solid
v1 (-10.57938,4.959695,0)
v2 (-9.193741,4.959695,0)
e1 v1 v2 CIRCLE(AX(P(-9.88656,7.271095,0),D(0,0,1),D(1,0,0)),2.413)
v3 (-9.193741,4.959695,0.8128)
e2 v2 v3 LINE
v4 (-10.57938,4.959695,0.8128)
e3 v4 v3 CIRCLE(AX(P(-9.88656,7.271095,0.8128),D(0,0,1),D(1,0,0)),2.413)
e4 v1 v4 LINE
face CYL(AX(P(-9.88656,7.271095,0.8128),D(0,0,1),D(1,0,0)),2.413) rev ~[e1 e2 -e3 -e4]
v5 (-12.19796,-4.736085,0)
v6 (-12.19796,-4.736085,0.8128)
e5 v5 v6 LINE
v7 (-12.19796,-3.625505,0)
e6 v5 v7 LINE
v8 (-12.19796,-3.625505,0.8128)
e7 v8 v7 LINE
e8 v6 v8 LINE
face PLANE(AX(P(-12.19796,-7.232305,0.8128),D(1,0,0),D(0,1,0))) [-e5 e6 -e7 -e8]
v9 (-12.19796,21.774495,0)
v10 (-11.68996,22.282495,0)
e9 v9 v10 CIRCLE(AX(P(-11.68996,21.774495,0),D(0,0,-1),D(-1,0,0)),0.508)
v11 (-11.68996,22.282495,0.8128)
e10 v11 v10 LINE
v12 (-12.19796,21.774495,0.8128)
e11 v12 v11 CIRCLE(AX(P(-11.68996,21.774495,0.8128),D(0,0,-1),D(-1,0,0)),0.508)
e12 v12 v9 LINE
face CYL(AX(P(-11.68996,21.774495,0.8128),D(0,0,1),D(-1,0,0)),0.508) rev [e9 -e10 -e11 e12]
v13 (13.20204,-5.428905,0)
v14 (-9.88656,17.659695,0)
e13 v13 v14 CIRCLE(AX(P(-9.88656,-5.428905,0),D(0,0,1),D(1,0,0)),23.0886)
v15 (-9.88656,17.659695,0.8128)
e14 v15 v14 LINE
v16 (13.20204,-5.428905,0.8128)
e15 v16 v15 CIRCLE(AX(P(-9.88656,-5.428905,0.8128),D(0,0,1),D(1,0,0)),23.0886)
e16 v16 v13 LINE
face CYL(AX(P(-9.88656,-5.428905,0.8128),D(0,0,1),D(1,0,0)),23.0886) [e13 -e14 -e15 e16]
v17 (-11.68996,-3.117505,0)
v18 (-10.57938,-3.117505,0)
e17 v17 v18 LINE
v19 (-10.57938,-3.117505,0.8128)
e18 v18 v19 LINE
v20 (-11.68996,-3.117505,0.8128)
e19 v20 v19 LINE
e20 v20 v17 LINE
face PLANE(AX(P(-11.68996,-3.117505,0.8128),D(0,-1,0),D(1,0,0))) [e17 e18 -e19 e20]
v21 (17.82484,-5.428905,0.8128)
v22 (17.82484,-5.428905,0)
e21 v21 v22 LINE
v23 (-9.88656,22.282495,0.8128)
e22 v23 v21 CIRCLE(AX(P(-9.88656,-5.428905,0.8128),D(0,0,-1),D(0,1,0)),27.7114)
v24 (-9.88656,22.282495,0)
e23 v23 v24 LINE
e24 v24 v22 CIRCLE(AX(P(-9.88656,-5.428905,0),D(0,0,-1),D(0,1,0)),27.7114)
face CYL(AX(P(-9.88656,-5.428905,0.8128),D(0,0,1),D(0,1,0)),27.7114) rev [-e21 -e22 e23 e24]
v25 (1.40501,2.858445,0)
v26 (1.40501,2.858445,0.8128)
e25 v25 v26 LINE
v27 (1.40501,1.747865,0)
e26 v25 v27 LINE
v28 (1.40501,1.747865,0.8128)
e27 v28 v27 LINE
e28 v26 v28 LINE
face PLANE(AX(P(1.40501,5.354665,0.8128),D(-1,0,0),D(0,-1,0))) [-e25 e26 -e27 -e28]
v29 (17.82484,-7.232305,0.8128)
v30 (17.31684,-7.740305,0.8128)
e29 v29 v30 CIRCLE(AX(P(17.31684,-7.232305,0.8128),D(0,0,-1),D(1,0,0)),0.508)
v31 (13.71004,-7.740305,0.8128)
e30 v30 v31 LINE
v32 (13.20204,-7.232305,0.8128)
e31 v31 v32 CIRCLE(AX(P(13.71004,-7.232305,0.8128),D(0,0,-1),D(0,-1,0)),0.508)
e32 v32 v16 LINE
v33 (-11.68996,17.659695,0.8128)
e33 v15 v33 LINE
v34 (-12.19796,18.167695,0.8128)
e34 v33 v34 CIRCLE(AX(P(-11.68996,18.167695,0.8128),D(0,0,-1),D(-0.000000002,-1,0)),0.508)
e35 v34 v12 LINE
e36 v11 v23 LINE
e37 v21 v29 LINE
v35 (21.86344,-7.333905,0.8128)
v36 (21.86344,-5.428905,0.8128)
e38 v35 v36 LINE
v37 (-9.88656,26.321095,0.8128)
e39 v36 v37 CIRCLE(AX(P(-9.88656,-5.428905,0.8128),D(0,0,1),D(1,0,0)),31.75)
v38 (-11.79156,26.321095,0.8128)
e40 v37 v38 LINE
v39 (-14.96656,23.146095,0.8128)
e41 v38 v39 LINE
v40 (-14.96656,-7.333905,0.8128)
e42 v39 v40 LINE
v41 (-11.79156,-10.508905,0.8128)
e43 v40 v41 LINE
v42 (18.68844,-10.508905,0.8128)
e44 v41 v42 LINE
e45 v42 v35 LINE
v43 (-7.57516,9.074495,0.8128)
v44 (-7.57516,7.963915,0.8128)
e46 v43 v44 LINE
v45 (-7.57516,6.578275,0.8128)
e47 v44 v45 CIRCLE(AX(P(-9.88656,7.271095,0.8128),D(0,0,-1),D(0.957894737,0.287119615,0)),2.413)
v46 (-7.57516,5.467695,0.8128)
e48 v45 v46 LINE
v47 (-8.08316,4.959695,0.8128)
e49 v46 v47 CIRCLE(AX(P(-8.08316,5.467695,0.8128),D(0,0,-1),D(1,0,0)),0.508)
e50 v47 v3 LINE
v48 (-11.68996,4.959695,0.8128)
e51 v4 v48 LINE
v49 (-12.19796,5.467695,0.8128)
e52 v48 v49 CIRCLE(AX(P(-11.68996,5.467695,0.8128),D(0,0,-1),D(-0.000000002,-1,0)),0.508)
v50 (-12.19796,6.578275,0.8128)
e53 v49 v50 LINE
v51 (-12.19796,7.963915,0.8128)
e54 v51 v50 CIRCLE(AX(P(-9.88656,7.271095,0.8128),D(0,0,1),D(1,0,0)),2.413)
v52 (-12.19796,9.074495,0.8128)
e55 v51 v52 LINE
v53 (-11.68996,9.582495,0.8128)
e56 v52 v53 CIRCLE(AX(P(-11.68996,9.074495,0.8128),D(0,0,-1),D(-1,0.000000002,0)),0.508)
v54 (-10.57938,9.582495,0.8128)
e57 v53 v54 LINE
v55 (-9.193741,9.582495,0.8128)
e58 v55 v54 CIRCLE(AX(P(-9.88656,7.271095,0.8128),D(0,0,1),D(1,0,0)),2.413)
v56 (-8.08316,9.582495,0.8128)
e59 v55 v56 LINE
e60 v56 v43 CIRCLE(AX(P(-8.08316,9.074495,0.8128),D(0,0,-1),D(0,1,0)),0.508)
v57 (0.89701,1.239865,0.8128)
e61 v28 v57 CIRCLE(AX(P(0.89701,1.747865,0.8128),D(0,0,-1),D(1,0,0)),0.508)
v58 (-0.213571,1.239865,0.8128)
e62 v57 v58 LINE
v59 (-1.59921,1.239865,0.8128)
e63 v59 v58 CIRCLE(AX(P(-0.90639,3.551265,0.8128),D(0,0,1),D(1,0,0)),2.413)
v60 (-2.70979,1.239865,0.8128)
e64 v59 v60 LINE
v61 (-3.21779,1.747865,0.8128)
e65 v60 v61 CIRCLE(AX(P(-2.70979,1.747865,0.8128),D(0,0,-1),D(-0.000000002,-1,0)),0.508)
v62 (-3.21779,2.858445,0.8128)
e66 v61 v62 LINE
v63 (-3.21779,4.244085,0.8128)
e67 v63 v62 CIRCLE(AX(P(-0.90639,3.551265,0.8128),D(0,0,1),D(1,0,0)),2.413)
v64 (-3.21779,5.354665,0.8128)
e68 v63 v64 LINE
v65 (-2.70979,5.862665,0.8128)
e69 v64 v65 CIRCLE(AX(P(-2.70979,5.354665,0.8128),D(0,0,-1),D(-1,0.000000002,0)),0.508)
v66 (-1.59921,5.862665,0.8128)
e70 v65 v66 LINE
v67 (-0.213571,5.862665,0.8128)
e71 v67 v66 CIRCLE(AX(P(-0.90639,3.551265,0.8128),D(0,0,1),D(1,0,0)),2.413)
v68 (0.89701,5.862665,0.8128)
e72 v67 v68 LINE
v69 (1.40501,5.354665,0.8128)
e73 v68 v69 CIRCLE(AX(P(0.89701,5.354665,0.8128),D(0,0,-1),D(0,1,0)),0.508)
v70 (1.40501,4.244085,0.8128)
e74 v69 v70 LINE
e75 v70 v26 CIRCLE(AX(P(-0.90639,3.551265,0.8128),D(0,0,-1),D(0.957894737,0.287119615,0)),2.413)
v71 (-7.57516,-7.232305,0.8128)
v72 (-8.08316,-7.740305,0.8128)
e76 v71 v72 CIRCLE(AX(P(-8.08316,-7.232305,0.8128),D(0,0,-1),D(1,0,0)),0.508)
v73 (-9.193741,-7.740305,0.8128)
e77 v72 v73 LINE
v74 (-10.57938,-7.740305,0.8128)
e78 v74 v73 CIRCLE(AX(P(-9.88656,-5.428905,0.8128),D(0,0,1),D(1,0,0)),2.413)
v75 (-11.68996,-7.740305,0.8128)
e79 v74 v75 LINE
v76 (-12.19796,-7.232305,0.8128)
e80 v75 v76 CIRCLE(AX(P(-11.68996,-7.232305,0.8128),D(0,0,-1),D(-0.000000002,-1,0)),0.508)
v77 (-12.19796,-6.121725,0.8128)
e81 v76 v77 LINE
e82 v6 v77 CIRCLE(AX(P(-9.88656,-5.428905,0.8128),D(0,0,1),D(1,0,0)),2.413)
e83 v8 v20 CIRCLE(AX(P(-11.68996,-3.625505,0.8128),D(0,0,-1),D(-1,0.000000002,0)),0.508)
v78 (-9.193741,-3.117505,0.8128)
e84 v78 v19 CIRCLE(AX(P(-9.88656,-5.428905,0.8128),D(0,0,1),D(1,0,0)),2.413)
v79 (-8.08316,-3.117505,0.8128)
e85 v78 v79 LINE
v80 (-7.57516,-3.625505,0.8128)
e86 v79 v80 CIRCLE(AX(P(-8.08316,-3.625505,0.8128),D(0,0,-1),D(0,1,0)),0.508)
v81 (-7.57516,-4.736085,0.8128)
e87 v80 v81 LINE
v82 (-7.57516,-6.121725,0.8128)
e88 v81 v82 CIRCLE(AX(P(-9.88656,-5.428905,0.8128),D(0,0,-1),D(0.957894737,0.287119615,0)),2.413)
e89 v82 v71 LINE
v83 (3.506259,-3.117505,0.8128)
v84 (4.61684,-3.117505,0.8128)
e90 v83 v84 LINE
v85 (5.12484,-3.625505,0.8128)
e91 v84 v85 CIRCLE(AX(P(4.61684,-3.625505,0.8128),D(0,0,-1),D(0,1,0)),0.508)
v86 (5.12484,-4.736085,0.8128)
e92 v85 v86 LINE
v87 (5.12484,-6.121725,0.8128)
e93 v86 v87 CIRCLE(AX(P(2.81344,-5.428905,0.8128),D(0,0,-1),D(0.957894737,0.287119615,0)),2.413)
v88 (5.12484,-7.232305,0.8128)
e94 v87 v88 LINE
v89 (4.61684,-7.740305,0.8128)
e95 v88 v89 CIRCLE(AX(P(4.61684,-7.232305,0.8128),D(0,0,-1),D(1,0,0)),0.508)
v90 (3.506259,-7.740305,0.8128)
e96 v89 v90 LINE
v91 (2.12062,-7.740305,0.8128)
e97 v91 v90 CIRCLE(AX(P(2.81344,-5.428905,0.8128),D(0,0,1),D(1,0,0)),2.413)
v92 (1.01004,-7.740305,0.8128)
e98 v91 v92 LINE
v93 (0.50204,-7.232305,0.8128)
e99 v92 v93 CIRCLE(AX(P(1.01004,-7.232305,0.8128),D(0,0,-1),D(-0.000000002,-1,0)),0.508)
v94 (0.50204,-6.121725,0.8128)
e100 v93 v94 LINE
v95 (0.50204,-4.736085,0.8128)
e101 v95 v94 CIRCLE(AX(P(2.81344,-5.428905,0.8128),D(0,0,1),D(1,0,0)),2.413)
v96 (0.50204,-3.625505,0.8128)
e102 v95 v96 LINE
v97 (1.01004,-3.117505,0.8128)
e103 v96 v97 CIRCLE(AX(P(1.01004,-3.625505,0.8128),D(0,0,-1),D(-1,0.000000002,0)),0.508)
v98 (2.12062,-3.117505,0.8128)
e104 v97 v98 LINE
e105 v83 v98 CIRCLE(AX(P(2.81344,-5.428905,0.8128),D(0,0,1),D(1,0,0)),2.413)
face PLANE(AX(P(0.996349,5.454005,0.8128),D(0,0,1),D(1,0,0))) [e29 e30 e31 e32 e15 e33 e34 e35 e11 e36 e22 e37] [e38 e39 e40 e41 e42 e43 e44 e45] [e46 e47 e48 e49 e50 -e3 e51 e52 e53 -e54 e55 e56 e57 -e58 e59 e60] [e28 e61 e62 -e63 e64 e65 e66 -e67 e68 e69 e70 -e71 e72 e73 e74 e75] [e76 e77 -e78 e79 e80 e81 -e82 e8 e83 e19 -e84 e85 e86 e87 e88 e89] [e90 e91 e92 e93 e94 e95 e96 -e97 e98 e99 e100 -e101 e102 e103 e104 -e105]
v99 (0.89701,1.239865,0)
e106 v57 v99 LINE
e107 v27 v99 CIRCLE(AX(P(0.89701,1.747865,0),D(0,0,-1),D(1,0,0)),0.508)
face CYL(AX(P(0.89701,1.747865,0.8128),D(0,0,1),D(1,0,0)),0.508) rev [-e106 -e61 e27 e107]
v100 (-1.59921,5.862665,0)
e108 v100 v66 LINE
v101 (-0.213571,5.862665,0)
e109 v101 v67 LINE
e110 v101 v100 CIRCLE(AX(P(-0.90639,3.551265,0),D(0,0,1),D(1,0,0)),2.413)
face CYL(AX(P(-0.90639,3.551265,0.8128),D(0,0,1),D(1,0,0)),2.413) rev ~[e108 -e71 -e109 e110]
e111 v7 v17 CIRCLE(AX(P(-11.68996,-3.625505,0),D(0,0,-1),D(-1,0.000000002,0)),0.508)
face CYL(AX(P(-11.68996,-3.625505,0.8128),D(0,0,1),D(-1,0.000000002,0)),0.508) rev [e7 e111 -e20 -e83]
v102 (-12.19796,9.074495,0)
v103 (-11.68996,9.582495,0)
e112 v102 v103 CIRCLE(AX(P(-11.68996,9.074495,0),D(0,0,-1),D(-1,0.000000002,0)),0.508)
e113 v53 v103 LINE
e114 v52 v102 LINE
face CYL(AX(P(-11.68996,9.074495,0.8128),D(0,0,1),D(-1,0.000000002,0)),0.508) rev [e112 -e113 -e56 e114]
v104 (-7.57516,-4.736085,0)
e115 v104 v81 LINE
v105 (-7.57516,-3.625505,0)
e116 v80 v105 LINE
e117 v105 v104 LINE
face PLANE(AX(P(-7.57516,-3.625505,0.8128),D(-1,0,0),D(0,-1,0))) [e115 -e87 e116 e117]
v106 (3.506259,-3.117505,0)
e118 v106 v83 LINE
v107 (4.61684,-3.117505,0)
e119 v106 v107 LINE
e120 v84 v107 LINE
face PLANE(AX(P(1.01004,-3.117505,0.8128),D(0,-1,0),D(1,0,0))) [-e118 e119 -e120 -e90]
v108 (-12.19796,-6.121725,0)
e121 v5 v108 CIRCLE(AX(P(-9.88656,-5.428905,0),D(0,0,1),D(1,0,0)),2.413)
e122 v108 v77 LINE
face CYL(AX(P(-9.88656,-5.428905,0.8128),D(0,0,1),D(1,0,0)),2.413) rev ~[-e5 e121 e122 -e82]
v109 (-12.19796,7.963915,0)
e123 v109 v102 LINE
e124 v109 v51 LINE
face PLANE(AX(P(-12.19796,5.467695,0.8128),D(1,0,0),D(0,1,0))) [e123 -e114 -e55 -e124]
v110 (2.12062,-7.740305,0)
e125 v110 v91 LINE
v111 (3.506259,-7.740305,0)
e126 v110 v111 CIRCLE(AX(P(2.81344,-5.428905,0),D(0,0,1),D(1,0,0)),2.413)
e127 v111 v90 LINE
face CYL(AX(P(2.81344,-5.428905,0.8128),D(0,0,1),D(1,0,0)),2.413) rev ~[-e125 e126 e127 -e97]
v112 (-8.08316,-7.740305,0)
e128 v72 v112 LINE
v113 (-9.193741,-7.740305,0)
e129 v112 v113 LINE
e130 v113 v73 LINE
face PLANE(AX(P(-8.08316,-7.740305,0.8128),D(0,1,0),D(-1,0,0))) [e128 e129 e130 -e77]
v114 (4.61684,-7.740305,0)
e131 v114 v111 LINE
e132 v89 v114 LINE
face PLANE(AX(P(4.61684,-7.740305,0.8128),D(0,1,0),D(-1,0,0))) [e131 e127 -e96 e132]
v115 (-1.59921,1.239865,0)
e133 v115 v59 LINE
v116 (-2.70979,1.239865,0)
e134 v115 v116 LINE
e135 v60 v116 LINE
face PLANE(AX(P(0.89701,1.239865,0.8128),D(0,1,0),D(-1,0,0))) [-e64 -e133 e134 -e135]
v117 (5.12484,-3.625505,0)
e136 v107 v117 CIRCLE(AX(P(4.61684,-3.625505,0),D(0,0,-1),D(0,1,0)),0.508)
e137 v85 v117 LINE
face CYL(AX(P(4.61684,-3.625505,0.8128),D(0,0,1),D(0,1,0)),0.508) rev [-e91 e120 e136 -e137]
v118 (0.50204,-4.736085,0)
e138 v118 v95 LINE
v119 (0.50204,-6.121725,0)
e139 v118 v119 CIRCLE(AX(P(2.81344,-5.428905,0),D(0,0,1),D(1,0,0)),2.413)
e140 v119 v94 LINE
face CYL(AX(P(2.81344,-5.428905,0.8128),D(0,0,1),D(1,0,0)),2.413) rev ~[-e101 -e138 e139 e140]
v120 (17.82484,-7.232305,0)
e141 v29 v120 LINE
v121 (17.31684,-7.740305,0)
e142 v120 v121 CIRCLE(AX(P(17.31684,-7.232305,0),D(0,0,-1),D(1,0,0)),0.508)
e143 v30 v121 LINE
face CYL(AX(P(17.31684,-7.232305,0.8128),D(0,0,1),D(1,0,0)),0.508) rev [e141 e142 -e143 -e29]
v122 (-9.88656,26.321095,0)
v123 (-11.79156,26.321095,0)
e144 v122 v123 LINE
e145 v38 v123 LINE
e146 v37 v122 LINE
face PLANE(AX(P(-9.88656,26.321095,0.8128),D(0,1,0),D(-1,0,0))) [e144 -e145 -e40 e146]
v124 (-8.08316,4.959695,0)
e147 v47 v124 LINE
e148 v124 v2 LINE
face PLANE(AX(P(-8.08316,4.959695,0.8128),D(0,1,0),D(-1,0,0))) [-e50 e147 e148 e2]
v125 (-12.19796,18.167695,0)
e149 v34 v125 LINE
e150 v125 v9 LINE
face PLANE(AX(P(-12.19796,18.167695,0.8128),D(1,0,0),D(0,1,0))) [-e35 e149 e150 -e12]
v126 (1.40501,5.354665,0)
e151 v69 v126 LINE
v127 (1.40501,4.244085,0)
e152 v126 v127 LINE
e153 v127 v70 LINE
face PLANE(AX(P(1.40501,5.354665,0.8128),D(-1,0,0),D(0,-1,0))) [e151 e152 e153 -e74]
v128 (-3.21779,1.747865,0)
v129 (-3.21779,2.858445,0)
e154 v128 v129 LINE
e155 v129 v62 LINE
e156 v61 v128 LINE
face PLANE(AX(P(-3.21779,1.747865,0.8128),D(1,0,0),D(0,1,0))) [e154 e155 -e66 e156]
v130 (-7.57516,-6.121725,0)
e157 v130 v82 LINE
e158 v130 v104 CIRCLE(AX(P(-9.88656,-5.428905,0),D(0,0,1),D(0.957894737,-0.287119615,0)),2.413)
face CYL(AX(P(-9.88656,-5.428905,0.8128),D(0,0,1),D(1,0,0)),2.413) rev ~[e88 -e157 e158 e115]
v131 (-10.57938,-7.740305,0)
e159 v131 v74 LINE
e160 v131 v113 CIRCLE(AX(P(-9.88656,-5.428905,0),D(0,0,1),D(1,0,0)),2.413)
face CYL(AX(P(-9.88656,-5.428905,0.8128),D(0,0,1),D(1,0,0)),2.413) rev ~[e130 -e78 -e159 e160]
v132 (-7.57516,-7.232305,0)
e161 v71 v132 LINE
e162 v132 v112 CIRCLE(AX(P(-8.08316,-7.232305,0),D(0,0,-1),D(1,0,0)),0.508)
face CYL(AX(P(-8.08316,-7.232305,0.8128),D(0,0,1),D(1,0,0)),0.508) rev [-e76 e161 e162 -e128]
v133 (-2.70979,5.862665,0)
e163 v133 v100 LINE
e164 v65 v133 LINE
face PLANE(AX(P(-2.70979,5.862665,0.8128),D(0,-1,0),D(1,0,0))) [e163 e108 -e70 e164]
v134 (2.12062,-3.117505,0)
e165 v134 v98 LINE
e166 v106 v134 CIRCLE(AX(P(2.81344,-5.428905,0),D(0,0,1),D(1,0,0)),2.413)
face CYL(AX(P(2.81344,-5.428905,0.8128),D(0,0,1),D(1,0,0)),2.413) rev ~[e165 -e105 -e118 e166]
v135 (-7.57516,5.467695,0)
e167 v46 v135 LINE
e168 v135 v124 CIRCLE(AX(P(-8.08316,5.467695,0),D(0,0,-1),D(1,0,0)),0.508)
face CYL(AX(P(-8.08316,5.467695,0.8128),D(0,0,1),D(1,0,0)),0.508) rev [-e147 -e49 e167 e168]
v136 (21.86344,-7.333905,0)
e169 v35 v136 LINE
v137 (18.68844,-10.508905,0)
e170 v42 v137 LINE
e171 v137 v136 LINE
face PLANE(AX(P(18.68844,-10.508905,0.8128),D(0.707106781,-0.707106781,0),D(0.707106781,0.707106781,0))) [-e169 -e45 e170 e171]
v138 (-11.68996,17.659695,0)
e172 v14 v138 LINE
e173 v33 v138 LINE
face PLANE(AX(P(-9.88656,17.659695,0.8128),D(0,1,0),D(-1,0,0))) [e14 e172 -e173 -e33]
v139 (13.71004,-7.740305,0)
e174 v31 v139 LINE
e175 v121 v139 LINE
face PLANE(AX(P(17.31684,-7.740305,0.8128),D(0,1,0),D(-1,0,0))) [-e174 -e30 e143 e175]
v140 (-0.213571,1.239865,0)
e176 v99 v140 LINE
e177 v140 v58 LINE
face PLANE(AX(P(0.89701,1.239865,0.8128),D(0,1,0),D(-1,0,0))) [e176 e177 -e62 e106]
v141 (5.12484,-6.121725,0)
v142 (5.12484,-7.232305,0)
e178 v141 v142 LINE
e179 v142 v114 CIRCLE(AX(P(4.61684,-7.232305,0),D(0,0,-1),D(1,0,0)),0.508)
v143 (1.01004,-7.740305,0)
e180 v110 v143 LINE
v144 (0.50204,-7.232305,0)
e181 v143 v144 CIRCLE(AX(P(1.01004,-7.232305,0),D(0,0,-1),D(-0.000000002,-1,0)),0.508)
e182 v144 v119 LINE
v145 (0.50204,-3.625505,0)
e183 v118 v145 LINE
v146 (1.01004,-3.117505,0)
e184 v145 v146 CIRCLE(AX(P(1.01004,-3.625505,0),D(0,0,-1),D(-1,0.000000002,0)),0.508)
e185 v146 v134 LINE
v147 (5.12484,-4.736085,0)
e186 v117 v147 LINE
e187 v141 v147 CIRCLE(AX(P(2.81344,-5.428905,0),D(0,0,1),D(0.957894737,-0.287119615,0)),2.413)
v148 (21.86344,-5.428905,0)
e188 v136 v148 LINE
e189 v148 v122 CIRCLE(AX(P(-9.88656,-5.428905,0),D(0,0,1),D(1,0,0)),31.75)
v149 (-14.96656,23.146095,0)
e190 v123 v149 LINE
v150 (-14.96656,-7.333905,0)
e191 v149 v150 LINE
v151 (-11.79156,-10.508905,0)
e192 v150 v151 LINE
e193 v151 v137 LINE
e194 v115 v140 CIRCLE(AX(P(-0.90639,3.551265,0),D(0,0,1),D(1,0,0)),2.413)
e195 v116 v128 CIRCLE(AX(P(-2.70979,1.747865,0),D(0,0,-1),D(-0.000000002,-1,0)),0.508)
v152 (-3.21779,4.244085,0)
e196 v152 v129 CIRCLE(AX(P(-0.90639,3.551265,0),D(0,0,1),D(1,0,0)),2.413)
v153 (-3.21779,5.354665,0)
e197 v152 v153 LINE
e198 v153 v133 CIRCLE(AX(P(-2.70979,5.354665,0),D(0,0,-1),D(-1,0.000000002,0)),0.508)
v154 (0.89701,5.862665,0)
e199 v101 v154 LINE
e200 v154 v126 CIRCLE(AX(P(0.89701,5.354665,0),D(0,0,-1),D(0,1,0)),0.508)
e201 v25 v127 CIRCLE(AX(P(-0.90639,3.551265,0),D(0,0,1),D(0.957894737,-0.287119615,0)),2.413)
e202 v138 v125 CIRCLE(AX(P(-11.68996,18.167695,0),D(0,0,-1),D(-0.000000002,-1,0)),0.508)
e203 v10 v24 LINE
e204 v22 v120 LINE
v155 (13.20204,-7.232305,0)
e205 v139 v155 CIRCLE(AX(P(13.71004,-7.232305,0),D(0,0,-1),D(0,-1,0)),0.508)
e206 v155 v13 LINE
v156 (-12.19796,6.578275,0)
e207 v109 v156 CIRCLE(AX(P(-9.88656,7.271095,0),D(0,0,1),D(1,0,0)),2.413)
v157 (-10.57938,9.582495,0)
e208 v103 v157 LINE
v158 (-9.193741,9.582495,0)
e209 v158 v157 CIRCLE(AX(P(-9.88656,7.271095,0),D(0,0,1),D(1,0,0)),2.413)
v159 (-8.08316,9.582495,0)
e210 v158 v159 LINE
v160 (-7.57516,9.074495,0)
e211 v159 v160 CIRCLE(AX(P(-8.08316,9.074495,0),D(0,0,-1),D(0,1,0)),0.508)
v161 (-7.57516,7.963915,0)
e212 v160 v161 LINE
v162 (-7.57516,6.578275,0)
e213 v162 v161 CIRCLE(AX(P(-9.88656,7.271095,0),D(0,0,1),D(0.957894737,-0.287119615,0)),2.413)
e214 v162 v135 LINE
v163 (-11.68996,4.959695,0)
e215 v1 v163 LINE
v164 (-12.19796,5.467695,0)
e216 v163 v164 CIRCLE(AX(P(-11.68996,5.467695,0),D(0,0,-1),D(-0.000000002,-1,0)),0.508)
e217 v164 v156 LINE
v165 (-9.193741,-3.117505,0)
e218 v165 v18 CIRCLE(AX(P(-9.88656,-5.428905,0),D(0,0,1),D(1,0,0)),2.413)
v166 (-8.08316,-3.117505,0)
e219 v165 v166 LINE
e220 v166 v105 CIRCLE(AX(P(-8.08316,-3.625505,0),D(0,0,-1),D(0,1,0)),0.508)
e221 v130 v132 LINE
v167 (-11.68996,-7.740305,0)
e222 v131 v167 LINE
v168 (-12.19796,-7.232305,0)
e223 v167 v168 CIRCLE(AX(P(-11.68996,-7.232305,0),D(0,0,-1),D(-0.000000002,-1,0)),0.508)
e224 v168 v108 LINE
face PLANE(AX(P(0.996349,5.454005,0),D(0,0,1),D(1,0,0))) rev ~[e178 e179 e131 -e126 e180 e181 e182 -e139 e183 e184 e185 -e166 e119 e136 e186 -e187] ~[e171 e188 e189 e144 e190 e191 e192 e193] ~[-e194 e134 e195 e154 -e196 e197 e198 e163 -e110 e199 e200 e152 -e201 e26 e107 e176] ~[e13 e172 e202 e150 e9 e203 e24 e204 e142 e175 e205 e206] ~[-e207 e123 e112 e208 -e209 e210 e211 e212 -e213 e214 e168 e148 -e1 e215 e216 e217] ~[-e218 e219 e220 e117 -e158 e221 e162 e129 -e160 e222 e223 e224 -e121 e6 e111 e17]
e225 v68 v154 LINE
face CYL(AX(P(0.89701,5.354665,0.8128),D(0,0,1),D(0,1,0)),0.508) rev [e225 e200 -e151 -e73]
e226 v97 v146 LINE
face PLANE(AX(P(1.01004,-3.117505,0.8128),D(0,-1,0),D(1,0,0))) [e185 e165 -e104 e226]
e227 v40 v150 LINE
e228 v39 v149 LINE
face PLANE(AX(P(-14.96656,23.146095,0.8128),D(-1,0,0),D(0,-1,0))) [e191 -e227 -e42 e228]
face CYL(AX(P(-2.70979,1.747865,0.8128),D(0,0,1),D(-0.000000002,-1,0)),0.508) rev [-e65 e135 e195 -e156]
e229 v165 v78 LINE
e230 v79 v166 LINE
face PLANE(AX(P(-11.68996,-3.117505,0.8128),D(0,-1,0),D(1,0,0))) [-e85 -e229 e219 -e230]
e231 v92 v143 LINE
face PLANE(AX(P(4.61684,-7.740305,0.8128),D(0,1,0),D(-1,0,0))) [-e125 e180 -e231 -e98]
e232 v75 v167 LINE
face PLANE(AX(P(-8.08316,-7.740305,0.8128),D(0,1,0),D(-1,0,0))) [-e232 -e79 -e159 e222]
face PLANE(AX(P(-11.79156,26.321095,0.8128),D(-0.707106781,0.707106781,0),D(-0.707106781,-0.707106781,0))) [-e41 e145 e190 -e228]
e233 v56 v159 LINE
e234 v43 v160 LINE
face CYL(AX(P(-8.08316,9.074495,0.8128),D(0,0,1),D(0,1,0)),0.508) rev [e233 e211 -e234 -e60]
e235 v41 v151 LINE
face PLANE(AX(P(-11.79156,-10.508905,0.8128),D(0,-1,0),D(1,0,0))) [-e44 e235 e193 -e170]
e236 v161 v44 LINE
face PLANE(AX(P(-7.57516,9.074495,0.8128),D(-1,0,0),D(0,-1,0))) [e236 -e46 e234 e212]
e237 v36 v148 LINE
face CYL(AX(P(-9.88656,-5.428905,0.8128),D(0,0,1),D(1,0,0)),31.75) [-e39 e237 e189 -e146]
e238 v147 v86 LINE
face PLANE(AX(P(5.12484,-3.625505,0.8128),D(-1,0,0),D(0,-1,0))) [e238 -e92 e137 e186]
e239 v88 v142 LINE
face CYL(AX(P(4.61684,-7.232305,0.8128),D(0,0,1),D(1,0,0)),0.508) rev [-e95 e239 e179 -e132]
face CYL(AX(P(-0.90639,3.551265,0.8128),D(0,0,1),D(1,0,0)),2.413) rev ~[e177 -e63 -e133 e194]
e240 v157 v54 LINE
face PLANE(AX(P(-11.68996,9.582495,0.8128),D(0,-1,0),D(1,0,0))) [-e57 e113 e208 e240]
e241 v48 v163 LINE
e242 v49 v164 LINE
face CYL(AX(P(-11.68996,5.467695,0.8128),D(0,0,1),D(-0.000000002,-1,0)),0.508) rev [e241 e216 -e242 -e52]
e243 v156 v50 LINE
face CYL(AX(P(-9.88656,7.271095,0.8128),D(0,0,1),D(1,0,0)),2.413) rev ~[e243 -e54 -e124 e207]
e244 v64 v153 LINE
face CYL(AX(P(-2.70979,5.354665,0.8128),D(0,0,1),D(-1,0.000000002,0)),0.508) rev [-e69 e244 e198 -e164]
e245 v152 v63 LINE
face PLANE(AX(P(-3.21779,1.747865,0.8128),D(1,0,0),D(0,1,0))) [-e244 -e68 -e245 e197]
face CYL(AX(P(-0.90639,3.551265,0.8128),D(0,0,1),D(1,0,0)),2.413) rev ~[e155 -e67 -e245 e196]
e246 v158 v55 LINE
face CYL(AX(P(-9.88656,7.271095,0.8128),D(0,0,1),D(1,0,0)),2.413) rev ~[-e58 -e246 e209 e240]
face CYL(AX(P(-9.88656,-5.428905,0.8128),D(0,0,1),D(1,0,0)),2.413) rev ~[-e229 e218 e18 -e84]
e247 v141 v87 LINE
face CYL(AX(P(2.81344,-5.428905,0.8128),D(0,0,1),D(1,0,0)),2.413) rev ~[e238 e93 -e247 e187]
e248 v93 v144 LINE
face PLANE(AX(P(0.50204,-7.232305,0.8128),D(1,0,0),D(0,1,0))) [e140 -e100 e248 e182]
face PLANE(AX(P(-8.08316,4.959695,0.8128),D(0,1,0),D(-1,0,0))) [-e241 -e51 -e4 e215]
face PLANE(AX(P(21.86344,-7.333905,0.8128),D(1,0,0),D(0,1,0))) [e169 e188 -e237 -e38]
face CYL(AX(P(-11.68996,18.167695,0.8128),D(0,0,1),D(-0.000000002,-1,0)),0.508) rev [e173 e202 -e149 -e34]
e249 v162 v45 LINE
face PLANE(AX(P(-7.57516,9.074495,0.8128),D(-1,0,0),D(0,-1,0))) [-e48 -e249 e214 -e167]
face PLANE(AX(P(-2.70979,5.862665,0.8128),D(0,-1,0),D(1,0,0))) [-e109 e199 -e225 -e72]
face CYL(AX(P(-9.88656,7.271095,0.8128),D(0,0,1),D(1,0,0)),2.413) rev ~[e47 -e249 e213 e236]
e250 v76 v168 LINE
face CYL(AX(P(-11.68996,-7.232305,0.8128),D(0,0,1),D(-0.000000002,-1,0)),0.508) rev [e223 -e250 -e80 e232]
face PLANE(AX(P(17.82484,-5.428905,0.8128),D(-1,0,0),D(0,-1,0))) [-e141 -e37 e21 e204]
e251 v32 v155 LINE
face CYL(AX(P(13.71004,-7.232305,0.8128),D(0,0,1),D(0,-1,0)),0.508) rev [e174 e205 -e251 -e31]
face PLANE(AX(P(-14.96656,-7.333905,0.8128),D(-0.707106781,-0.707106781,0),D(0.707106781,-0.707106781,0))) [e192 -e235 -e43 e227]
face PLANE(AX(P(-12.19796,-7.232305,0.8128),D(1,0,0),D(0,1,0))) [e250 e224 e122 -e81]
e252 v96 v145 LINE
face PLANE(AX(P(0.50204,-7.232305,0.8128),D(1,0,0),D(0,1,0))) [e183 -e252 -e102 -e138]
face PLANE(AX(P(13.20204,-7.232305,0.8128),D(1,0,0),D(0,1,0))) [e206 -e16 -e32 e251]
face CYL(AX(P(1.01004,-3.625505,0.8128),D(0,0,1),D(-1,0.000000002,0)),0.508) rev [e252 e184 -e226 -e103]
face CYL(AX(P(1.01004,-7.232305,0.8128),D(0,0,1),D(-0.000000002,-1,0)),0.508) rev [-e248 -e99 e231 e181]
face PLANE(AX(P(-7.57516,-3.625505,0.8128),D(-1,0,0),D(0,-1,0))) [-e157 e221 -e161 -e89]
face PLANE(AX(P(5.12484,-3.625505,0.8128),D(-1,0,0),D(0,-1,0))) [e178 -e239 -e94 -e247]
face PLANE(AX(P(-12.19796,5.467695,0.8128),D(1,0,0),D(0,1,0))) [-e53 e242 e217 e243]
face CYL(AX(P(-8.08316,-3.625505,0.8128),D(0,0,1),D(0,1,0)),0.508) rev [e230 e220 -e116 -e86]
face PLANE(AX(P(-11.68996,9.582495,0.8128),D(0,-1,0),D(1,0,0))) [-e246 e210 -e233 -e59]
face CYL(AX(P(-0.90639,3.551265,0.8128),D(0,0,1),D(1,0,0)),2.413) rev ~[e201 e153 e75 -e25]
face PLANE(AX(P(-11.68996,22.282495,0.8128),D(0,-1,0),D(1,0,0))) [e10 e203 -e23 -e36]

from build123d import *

# Parameters (mm, degrees)
BOSS_EXTRUDE1_DEPTH = 0.8128
SKETCH2_R           = 2.413
CUT_EXTRUDE1_DEPTH  = 2.54


with BuildPart() as part:
    # Sketch1 → Boss-Extrude1 (new body)
    with BuildSketch(Plane.XY.offset(0.8128)):
        with BuildLine():
            Line((-14.966560113, 23.146095061), (-14.966560113, -7.333904636))
            Line((-14.966560113, -7.333904636), (-11.791560113, -10.508904636))
            Line((-11.791560113, -10.508904636), (18.688439584, -10.508904636))
            Line((18.688439584, -10.508904636), (21.863439584, -7.333904636))
            Line((21.863439584, -7.333904636), (21.863439584, -5.428904939))
            ThreePointArc((21.863439584, -5.428904939), (12.564079886, 17.021735364), (-9.886560416, 26.321095061))
            Line((-9.886560416, 26.321095061), (-11.791560113, 26.321095061))
            Line((-11.791560113, 26.321095061), (-14.966560113, 23.146095061))
        make_face()
        with BuildLine():
            Line((17.316839733, -7.740304939), (13.710039804, -7.740304939))
            ThreePointArc((13.710039804, -7.740304939), (13.350829567, -7.591515187), (13.202039815, -7.23230495))
            Line((13.202039815, -7.23230495), (13.202039815, -5.428904939))
            ThreePointArc((13.202039815, -5.428904939), (6.439545376, 10.897200853), (-9.886560416, 17.659695293))
            Line((-9.886560416, 17.659695293), (-11.689960428, 17.659695293))
            ThreePointArc((-11.689960428, 17.659695293), (-12.049170664, 17.808485045), (-12.197960416, 18.167695282))
            Line((-12.197960416, 18.167695282), (-12.197960416, 21.77449521))
            ThreePointArc((-12.197960416, 21.77449521), (-12.049170664, 22.133705447), (-11.689960428, 22.282495199))
            Line((-11.689960428, 22.282495199), (-9.886560416, 22.282495199))
            ThreePointArc((-9.886560416, 22.282495199), (9.708358537, 14.166014015), (17.824839722, -5.428904939))
            Line((17.824839722, -5.428904939), (17.824839722, -7.23230495))
            ThreePointArc((17.824839722, -7.23230495), (17.67604997, -7.591515187), (17.316839733, -7.740304939))
        make_face(mode=Mode.SUBTRACT)
        with BuildLine():
            Line((5.124839584, -3.625504927), (5.124839584, -7.23230495))
            ThreePointArc((5.124839584, -7.23230495), (4.976049832, -7.591515187), (4.616839595, -7.740304939))
            Line((4.616839595, -7.740304939), (1.010039572, -7.740304939))
            ThreePointArc((1.010039572, -7.740304939), (0.650829336, -7.591515187), (0.502039584, -7.23230495))
            Line((0.502039584, -7.23230495), (0.502039584, -3.625504927))
            ThreePointArc((0.502039584, -3.625504927), (0.650829336, -3.266294691), (1.010039572, -3.117504939))
            Line((1.010039572, -3.117504939), (4.616839595, -3.117504939))
            ThreePointArc((4.616839595, -3.117504939), (4.976049832, -3.266294691), (5.124839584, -3.625504927))
        make_face(mode=Mode.SUBTRACT)
        with BuildLine():
            Line((-2.709790428, 5.862665061), (0.897009595, 5.862665061))
            ThreePointArc((0.897009595, 5.862665061), (1.256219832, 5.713875309), (1.405009584, 5.354665073))
            Line((1.405009584, 5.354665073), (1.405009584, 1.74786505))
            ThreePointArc((1.405009584, 1.74786505), (1.256219832, 1.388654813), (0.897009595, 1.239865061))
            Line((0.897009595, 1.239865061), (-2.709790428, 1.239865061))
            ThreePointArc((-2.709790428, 1.239865061), (-3.069000664, 1.388654813), (-3.217790416, 1.74786505))
            Line((-3.217790416, 1.74786505), (-3.217790416, 5.354665073))
            ThreePointArc((-3.217790416, 5.354665073), (-3.069000664, 5.713875309), (-2.709790428, 5.862665061))
        make_face(mode=Mode.SUBTRACT)
        with BuildLine():
            Line((-11.689960428, 9.582495061), (-8.083160405, 9.582495061))
            ThreePointArc((-8.083160405, 9.582495061), (-7.723950168, 9.433705309), (-7.575160416, 9.074495073))
            Line((-7.575160416, 9.074495073), (-7.575160416, 5.46769505))
            ThreePointArc((-7.575160416, 5.46769505), (-7.723950168, 5.108484813), (-8.083160405, 4.959695061))
            Line((-8.083160405, 4.959695061), (-11.689960428, 4.959695061))
            ThreePointArc((-11.689960428, 4.959695061), (-12.049170664, 5.108484813), (-12.197960416, 5.46769505))
            Line((-12.197960416, 5.46769505), (-12.197960416, 9.074495073))
            ThreePointArc((-12.197960416, 9.074495073), (-12.049170664, 9.433705309), (-11.689960428, 9.582495061))
        make_face(mode=Mode.SUBTRACT)
        with BuildLine():
            Line((-8.083160405, -7.740304939), (-11.689960428, -7.740304939))
            ThreePointArc((-11.689960428, -7.740304939), (-12.049170664, -7.591515187), (-12.197960416, -7.23230495))
            Line((-12.197960416, -7.23230495), (-12.197960416, -3.625504927))
            ThreePointArc((-12.197960416, -3.625504927), (-12.049170664, -3.266294691), (-11.689960428, -3.117504939))
            Line((-11.689960428, -3.117504939), (-8.083160405, -3.117504939))
            ThreePointArc((-8.083160405, -3.117504939), (-7.723950168, -3.266294691), (-7.575160416, -3.625504927))
            Line((-7.575160416, -3.625504927), (-7.575160416, -7.23230495))
            ThreePointArc((-7.575160416, -7.23230495), (-7.723950168, -7.591515187), (-8.083160405, -7.740304939))
        make_face(mode=Mode.SUBTRACT)
    extrude(amount=-BOSS_EXTRUDE1_DEPTH)

    # Sketch2 → Cut-Extrude1 (cut)
    with BuildSketch(Plane.XY.offset(0.8128)):
        with Locations((-9.886560416, 7.271095061)):
            Circle(SKETCH2_R)
        with Locations((-0.906390416, 3.551265061)):
            Circle(SKETCH2_R)
        with Locations((2.813439584, -5.428904939)):
            Circle(SKETCH2_R)
        with Locations((-9.886560416, -5.428904939)):
            Circle(SKETCH2_R)
    extrude(amount=-CUT_EXTRUDE1_DEPTH, mode=Mode.SUBTRACT)


solid = part.part
